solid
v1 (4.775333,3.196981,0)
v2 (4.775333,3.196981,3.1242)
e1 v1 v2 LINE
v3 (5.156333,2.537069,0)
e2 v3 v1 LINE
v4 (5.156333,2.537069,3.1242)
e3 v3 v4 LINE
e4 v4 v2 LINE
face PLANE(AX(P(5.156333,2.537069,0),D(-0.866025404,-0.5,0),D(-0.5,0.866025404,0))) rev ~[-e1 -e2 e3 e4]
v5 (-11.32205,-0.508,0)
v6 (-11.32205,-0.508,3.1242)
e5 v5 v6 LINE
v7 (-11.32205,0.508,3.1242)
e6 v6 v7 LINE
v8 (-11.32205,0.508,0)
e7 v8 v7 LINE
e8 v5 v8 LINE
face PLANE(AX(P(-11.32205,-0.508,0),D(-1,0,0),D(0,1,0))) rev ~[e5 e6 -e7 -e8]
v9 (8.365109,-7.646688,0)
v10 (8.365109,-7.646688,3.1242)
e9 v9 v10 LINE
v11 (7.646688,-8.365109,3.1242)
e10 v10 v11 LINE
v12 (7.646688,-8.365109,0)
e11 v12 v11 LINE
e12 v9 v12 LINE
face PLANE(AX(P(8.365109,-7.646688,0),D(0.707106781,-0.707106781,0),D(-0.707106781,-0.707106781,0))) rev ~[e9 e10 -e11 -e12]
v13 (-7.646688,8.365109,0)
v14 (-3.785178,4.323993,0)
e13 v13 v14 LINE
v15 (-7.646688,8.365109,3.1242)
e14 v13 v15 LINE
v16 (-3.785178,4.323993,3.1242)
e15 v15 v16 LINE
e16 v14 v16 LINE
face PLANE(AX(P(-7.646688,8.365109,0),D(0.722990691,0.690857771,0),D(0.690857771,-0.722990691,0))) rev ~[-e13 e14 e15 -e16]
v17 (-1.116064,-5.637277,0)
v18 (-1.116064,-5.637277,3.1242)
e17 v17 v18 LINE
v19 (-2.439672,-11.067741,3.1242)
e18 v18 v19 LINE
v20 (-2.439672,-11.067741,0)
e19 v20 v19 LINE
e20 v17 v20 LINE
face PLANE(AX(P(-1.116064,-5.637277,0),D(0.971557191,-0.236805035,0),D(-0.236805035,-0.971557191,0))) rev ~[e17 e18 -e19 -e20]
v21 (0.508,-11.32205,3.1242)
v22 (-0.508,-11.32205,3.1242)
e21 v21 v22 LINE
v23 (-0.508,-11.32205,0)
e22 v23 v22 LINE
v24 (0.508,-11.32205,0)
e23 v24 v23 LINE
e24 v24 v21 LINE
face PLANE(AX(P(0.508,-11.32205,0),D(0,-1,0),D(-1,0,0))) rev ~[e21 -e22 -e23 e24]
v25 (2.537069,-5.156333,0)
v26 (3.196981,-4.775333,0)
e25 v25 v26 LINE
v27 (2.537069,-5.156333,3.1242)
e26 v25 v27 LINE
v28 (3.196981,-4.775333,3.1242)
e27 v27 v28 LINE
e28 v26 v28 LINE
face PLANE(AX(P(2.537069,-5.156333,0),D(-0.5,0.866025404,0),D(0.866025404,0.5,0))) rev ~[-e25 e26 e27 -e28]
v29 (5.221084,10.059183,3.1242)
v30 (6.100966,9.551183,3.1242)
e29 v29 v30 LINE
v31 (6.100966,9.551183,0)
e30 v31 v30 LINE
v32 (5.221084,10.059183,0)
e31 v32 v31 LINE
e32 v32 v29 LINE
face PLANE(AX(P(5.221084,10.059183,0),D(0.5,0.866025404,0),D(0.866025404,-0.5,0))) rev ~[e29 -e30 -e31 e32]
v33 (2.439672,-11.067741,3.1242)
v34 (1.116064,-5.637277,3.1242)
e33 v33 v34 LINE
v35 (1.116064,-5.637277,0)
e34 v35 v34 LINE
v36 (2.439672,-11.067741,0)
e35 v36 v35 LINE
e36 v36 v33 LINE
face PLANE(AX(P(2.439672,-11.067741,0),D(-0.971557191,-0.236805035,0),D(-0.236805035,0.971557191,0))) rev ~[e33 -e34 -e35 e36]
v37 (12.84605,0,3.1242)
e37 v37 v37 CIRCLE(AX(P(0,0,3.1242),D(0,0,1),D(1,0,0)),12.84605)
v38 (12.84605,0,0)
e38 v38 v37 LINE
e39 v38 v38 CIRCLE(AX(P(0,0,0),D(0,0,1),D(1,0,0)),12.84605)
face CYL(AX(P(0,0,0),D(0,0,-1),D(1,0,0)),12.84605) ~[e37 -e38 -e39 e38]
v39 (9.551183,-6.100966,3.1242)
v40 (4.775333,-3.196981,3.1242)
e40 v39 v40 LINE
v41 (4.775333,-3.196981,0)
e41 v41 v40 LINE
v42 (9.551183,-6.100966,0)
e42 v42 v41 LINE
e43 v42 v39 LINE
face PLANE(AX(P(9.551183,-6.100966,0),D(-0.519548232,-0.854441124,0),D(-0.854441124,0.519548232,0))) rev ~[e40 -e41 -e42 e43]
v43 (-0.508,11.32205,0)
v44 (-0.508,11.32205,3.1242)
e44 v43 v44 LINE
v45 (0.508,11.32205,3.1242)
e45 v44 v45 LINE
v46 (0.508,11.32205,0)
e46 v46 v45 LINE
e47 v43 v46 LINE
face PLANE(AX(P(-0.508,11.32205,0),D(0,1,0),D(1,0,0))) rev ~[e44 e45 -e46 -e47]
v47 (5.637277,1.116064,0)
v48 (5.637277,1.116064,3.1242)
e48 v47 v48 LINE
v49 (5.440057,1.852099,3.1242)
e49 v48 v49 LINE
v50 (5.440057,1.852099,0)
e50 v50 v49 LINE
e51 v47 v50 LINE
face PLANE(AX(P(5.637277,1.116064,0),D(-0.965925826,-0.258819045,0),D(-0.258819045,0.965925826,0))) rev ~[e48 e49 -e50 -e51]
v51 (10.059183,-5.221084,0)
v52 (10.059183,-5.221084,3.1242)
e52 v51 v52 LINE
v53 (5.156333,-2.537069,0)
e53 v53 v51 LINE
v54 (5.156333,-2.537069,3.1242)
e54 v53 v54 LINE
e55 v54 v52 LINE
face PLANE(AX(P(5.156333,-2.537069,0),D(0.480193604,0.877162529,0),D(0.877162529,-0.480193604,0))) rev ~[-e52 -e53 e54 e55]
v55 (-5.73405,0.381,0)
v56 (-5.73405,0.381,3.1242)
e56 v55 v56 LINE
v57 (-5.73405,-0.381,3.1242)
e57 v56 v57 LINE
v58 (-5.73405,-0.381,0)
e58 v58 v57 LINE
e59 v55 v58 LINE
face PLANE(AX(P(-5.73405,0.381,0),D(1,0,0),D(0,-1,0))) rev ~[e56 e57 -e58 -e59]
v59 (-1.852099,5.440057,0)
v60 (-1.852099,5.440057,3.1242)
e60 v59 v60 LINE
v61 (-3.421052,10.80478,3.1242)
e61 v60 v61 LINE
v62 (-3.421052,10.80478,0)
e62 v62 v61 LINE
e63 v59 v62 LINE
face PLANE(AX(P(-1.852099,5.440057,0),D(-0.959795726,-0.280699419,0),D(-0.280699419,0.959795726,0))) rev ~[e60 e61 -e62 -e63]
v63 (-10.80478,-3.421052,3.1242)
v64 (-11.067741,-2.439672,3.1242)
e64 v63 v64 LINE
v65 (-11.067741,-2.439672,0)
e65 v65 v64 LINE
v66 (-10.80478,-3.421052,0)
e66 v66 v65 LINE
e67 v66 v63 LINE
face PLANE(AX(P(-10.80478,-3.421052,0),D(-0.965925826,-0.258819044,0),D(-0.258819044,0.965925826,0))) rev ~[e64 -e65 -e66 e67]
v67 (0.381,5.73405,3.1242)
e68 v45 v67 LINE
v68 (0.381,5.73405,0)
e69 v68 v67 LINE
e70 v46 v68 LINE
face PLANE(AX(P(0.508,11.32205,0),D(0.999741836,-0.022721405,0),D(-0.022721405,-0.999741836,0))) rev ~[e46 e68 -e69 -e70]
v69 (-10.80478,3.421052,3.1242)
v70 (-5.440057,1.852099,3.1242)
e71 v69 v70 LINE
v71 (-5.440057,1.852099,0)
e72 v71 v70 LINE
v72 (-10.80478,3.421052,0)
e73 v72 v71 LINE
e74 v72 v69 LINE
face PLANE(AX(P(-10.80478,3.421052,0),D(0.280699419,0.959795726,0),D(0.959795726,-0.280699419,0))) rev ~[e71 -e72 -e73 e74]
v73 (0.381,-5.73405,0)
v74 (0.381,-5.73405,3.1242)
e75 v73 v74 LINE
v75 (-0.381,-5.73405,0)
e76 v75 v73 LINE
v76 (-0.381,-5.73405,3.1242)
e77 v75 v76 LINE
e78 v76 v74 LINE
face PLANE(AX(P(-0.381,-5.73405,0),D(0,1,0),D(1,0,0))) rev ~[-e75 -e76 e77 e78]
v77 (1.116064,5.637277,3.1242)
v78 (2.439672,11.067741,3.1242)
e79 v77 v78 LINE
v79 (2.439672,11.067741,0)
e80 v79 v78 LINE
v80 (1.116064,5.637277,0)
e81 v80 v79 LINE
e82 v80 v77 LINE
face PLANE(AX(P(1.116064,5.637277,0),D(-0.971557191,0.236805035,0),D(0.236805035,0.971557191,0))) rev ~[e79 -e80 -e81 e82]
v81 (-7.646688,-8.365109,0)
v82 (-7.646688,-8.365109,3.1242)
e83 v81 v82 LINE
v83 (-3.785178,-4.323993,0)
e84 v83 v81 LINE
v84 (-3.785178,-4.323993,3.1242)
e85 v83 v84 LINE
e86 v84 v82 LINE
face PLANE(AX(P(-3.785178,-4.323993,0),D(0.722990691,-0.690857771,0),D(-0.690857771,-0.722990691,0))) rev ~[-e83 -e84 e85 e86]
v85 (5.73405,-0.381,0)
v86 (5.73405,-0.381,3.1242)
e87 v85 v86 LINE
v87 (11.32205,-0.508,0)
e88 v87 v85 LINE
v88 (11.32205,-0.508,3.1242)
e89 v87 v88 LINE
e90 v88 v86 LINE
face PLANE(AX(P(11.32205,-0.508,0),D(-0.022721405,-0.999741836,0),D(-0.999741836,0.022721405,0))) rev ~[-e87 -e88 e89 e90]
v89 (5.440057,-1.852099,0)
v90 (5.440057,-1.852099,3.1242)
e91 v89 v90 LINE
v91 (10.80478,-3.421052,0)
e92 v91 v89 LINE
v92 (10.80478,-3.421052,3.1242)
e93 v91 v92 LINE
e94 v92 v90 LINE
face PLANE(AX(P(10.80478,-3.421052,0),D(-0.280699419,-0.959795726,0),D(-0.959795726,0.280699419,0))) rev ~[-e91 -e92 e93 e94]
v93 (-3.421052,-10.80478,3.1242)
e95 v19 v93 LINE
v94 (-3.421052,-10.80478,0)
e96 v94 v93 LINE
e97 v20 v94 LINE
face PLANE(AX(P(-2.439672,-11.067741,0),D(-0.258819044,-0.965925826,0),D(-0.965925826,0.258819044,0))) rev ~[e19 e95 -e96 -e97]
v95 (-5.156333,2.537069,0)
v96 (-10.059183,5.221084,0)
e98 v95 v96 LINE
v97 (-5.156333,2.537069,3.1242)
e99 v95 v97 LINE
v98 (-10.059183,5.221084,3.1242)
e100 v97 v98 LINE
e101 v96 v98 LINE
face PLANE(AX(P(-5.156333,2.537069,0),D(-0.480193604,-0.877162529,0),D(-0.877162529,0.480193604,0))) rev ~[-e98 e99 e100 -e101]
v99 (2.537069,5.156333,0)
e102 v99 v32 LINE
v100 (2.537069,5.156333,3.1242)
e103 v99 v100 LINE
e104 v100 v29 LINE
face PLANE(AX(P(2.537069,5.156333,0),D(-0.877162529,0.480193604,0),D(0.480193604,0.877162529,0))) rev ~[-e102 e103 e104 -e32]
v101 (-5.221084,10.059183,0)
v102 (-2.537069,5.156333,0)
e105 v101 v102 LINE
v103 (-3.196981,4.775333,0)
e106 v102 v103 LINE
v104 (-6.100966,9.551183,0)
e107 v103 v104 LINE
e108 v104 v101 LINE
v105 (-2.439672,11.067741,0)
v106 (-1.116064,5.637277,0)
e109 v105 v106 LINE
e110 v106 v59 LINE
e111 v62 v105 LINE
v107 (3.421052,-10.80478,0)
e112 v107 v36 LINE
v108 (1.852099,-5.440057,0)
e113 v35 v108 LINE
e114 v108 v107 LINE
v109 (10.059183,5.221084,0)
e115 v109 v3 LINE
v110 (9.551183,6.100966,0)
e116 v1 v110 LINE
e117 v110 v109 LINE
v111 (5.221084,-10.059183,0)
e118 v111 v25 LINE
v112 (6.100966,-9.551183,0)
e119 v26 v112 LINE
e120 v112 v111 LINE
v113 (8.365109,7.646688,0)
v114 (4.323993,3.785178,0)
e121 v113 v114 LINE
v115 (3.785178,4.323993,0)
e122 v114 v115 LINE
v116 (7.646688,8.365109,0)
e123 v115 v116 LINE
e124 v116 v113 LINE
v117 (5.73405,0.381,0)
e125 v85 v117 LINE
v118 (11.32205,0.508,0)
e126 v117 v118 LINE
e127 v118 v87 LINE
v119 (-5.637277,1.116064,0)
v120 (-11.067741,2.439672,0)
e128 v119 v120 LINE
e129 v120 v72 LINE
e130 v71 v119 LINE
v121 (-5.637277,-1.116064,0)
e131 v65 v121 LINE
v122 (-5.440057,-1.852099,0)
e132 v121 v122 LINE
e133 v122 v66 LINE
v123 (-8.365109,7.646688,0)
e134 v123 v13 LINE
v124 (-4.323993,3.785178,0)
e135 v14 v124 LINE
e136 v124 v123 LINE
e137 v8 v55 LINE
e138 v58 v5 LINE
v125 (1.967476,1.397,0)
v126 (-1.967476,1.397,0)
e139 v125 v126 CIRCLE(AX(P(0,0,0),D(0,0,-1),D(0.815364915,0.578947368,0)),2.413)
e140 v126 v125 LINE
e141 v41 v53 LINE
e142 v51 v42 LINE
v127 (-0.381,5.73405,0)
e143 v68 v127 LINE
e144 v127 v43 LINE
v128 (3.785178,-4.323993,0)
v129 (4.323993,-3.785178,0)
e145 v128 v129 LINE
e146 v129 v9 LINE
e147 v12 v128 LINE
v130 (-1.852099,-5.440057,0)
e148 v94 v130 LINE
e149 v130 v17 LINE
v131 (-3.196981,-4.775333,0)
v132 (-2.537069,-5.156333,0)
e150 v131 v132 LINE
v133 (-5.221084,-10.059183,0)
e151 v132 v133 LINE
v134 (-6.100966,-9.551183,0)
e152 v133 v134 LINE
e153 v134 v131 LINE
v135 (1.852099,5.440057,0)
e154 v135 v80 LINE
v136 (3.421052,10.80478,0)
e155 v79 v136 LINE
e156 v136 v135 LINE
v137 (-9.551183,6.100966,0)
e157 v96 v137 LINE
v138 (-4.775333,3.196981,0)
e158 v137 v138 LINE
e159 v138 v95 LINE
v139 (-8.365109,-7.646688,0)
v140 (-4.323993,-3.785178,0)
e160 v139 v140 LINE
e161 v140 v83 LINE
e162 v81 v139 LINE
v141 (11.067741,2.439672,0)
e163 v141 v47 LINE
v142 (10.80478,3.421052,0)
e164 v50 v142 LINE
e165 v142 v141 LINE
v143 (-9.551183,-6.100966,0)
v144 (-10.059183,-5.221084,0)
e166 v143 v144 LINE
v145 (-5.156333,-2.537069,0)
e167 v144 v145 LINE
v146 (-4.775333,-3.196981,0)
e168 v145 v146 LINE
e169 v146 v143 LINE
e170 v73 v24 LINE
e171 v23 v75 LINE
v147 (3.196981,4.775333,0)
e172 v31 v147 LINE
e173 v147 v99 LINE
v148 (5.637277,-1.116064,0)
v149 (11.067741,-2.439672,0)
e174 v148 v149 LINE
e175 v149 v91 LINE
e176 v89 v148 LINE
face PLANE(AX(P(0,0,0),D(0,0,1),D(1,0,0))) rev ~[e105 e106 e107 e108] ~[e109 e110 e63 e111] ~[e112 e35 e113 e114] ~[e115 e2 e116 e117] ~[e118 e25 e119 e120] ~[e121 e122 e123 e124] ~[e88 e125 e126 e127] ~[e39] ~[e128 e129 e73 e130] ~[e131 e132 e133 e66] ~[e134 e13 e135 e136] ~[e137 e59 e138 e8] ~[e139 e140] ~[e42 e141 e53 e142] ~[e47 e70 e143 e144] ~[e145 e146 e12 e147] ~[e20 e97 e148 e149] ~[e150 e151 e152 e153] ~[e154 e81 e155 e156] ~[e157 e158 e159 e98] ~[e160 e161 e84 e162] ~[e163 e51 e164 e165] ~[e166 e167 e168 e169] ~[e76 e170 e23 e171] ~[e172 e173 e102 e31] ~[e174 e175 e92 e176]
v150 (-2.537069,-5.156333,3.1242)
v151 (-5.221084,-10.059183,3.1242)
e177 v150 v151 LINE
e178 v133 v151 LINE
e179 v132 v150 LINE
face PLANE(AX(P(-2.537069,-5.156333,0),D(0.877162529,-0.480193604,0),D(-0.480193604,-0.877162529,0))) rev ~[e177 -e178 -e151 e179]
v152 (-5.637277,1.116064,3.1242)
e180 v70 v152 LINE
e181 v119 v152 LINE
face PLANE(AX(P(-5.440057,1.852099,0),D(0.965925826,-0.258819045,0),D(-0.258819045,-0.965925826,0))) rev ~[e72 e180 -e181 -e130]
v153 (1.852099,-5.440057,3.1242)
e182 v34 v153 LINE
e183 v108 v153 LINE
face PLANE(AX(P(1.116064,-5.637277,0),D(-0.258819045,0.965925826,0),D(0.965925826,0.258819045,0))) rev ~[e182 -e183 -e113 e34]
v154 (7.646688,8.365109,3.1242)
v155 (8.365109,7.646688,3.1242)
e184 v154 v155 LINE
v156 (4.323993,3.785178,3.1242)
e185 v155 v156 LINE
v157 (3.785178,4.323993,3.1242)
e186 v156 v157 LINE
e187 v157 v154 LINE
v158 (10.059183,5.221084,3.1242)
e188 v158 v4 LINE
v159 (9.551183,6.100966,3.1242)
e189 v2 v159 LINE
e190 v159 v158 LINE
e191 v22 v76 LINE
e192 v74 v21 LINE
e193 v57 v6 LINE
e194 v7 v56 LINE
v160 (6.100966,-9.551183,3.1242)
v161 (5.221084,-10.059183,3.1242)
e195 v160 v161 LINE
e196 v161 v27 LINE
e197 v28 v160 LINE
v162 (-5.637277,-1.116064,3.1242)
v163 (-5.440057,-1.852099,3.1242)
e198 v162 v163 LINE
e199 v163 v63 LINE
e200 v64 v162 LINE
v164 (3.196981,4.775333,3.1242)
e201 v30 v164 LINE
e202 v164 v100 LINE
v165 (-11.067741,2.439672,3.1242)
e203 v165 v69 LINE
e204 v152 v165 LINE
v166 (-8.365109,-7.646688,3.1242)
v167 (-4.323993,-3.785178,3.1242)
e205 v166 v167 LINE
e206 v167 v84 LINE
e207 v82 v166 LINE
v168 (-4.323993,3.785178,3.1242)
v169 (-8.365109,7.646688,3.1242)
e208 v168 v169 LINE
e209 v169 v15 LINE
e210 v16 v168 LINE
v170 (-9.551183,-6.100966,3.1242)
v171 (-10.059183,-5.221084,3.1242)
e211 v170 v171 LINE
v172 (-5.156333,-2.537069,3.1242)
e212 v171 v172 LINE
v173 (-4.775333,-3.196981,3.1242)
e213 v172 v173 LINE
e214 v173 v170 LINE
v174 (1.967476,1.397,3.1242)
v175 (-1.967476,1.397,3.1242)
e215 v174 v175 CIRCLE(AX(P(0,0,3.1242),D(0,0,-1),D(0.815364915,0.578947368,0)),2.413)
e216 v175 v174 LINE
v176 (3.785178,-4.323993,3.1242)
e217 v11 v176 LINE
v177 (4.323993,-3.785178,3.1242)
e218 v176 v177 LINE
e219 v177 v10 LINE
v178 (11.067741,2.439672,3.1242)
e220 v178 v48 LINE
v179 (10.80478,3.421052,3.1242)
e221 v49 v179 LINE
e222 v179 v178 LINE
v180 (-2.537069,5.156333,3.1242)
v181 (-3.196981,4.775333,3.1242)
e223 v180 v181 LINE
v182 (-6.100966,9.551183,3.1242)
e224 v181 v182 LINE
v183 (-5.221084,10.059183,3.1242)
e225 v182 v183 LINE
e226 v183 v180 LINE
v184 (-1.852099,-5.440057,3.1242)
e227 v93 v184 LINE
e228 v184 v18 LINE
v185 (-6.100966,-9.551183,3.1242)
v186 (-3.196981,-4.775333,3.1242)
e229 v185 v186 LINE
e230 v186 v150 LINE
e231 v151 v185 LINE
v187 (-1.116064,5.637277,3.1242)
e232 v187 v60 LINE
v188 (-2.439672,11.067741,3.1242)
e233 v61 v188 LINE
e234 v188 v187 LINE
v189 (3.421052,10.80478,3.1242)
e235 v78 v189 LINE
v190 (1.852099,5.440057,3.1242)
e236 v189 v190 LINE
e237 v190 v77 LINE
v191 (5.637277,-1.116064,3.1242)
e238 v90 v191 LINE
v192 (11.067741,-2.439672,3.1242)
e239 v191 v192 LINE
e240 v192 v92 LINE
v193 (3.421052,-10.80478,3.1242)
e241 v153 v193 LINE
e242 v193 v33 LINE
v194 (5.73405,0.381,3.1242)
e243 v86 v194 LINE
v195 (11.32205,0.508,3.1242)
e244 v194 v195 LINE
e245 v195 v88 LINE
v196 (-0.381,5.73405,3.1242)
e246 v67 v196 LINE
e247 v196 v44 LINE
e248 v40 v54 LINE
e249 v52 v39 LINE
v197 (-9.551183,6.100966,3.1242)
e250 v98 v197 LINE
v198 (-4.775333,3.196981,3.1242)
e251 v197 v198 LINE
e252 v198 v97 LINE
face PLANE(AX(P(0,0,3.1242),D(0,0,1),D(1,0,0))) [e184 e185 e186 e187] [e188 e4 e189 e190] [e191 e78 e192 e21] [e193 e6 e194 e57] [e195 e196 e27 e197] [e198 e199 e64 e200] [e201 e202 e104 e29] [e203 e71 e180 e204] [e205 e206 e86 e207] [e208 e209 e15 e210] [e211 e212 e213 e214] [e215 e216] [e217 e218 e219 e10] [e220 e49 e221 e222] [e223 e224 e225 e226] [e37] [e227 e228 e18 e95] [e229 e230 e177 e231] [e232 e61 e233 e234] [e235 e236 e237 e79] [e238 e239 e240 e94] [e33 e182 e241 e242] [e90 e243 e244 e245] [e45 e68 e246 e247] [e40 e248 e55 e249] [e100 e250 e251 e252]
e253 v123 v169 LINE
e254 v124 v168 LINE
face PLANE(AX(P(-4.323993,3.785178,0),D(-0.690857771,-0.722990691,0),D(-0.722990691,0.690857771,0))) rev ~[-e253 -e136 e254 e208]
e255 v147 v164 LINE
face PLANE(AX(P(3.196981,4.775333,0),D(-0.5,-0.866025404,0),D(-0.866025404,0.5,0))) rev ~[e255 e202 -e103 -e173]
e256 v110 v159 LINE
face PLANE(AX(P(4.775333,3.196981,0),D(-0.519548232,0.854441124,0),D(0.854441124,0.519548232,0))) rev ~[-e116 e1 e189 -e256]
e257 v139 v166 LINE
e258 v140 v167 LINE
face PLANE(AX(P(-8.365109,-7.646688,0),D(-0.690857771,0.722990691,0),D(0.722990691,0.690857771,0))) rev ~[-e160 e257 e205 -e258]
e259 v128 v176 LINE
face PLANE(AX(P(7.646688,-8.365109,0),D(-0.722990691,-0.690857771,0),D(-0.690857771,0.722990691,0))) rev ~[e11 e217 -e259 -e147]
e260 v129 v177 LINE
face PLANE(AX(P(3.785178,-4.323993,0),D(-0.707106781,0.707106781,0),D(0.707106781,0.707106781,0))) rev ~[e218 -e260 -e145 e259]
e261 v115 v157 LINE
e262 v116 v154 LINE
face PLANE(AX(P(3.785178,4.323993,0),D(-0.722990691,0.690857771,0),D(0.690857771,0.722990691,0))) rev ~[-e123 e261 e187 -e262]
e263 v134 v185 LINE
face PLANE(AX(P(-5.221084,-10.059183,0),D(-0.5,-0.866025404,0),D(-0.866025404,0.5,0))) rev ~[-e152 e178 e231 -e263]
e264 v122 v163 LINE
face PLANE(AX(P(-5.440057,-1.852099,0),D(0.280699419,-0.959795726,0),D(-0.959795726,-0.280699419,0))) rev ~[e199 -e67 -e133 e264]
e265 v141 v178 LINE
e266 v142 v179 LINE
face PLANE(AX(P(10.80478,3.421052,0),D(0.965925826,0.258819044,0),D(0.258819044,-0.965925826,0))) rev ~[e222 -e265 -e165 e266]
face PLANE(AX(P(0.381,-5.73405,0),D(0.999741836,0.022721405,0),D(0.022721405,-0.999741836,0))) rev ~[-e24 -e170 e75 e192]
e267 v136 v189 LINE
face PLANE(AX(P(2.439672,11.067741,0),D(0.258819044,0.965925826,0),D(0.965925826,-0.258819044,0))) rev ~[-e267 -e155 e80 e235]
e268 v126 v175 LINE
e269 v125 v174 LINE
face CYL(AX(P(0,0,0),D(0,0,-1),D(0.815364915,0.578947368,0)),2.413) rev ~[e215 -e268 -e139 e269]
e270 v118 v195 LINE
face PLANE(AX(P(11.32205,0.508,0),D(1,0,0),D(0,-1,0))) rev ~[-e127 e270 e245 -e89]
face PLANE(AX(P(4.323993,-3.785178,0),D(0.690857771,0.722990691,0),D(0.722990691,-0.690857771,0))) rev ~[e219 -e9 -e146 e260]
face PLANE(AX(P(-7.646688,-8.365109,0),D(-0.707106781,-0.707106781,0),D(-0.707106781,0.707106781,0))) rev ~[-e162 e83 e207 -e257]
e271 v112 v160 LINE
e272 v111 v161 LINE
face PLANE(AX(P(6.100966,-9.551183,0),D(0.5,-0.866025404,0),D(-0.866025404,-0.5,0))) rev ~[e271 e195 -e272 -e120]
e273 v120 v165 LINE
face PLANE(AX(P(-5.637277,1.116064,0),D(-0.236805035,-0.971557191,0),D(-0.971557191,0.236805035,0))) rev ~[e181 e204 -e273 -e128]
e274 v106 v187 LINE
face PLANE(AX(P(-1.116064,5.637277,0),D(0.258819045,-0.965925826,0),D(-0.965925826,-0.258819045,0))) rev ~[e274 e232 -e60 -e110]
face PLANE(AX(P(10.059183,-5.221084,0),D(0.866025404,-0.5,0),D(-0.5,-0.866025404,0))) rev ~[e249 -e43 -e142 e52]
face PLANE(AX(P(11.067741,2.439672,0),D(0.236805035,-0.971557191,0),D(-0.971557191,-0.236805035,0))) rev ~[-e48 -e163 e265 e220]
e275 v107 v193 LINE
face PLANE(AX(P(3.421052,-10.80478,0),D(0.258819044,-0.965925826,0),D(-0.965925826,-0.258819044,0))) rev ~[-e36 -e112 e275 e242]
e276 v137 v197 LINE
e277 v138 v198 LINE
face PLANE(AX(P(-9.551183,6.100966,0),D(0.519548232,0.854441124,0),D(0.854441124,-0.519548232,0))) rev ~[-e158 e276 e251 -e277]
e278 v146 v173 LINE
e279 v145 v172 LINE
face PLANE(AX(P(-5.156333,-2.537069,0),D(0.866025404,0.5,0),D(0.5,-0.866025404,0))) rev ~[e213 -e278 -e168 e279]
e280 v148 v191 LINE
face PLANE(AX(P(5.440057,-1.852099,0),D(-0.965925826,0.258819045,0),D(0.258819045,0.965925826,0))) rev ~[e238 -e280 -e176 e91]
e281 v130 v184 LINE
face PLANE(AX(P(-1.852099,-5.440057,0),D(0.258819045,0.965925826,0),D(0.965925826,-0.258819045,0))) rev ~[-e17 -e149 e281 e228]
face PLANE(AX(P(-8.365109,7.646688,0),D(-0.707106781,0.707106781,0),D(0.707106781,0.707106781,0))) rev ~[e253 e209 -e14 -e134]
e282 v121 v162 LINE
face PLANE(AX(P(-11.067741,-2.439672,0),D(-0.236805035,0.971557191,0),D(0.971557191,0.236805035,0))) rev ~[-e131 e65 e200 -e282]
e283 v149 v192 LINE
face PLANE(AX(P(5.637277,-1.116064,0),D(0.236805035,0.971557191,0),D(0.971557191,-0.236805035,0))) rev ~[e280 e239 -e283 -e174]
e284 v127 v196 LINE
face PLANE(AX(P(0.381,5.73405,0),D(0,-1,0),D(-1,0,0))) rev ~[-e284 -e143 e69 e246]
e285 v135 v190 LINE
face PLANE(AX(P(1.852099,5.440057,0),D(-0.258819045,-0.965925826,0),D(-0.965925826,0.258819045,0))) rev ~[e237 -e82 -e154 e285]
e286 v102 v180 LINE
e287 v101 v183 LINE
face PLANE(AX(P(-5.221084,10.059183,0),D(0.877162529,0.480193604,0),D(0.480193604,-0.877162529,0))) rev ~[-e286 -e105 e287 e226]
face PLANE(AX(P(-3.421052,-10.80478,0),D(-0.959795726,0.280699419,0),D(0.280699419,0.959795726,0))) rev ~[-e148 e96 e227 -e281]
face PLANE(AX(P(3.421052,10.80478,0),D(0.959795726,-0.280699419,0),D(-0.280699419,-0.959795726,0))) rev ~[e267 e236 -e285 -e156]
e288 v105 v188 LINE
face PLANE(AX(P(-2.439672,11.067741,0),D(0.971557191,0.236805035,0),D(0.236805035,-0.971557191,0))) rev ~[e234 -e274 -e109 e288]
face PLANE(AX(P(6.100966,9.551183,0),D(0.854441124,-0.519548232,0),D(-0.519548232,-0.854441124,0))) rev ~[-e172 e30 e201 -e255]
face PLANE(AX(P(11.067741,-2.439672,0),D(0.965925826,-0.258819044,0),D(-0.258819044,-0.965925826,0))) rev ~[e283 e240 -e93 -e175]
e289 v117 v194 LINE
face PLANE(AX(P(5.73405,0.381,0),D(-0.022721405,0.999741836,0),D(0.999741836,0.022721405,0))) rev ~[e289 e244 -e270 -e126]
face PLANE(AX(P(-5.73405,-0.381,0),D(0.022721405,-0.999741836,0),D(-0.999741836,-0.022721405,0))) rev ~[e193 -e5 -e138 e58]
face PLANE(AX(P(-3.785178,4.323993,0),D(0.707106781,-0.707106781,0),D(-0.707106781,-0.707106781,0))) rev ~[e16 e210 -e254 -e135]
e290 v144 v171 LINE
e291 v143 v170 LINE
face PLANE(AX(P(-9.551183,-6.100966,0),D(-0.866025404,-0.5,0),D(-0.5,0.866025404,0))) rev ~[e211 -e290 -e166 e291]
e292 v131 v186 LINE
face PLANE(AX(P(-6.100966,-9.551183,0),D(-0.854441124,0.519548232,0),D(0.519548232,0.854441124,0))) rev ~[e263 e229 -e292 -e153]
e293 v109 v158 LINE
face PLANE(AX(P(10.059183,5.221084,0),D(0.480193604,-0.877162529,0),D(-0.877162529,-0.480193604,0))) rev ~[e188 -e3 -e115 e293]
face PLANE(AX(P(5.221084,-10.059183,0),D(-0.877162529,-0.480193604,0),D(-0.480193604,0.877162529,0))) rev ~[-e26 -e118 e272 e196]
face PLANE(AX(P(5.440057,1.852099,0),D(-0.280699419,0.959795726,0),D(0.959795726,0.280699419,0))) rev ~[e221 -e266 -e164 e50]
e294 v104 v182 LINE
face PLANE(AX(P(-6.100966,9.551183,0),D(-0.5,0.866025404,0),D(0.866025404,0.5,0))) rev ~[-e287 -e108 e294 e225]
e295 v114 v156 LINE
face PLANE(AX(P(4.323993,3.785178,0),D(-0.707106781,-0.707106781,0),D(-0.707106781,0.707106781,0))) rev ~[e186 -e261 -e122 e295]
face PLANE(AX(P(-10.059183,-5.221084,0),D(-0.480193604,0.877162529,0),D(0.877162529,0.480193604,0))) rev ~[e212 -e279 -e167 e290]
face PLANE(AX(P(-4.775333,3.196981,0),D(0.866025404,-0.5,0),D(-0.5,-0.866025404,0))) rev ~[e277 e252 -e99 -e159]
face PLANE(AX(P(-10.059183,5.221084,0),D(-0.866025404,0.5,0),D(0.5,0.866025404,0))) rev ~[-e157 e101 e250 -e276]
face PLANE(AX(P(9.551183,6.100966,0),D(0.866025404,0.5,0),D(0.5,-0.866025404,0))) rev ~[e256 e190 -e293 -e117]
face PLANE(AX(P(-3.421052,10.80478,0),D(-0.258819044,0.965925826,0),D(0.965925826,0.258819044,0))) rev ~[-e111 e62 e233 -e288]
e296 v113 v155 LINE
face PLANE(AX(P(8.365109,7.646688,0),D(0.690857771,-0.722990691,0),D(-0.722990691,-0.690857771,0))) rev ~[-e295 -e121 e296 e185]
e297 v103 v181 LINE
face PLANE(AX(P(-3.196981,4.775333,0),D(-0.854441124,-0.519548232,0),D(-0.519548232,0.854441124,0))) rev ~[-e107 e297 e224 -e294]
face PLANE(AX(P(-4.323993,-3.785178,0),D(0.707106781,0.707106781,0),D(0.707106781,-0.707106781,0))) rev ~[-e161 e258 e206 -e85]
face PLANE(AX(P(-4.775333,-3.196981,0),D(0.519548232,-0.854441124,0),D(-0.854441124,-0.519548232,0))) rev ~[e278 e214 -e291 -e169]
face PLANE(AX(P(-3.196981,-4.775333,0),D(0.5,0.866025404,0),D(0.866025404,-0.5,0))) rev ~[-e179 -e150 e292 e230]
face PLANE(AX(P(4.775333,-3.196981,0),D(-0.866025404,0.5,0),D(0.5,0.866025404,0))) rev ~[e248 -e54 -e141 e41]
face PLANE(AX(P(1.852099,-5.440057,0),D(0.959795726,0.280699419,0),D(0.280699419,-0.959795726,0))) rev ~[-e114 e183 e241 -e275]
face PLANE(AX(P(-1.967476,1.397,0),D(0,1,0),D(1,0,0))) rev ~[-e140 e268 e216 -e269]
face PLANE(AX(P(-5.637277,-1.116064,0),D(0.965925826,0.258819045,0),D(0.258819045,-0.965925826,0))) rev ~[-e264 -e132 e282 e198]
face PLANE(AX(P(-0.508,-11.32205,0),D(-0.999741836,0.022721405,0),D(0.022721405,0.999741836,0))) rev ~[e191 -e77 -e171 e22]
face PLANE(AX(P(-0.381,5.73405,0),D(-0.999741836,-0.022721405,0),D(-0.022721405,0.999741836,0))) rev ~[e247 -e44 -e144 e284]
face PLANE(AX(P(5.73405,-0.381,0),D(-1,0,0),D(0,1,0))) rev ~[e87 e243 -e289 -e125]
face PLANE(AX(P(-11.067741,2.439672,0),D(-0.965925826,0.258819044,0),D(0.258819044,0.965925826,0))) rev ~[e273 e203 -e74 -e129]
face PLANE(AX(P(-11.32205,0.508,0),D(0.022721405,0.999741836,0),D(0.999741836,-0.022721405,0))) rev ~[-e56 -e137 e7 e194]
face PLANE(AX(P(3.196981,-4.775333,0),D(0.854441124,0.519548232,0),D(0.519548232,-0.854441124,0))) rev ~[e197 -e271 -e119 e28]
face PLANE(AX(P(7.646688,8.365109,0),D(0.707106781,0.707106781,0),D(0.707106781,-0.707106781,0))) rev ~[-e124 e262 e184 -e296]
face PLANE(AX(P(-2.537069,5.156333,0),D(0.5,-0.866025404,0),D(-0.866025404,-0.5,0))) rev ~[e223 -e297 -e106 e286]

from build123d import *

# Parameters (mm, degrees)
CROQUIS1_R              = 12.84605
SALIENTE_EXTRUIR2_DEPTH = 3.1242


with BuildPart() as part:
    # Croquis1 → Saliente-Extruir2 (new body)
    with BuildSketch(Plane.XY):
        Circle(CROQUIS1_R)
        Polygon((0.508, 11.32205), (0.381, 5.73405), (-0.381, 5.73405), (-0.508, 11.32205), align=None, mode=Mode.SUBTRACT)
        Polygon((-7.646688087, -8.365108577), (-8.365108577, -7.646688087), (-4.323993322, -3.785177955), (-3.785177955, -4.323993322), align=None, mode=Mode.SUBTRACT)
        Polygon((-5.221084095, -10.059182923), (-6.100965905, -9.551182923), (-3.196980679, -4.775332967), (-2.537069321, -5.156332967), align=None, mode=Mode.SUBTRACT)
        Polygon((-2.43967185, -11.067740576), (-3.421052489, -10.804780427), (-1.852099085, -5.440056928), (-1.116063606, -5.63727704), align=None, mode=Mode.SUBTRACT)
        Polygon((-9.551182923, -6.100965905), (-10.059182923, -5.221084095), (-5.156332967, -2.537069321), (-4.775332967, -3.196980679), align=None, mode=Mode.SUBTRACT)
        Polygon((-11.32205, -0.508), (-11.32205, 0.508), (-5.73405, 0.381), (-5.73405, -0.381), align=None, mode=Mode.SUBTRACT)
        Polygon((-10.804780427, -3.421052489), (-11.067740576, -2.43967185), (-5.63727704, -1.116063606), (-5.440056928, -1.852099085), align=None, mode=Mode.SUBTRACT)
        Polygon((0.508, -11.32205), (-0.508, -11.32205), (-0.381, -5.73405), (0.381, -5.73405), align=None, mode=Mode.SUBTRACT)
        Polygon((3.421052489, -10.804780427), (2.43967185, -11.067740576), (1.116063606, -5.63727704), (1.852099085, -5.440056928), align=None, mode=Mode.SUBTRACT)
        Polygon((6.100965905, -9.551182923), (5.221084095, -10.059182923), (2.537069321, -5.156332967), (3.196980679, -4.775332967), align=None, mode=Mode.SUBTRACT)
        Polygon((8.365108577, -7.646688087), (7.646688087, -8.365108577), (3.785177955, -4.323993322), (4.323993322, -3.785177955), align=None, mode=Mode.SUBTRACT)
        Polygon((10.059182923, -5.221084095), (9.551182923, -6.100965905), (4.775332967, -3.196980679), (5.156332967, -2.537069321), align=None, mode=Mode.SUBTRACT)
        Polygon((11.067740576, -2.43967185), (10.804780427, -3.421052489), (5.440056928, -1.852099085), (5.63727704, -1.116063606), align=None, mode=Mode.SUBTRACT)
        Polygon((-11.067740576, 2.43967185), (-10.804780427, 3.421052489), (-5.440056928, 1.852099085), (-5.63727704, 1.116063606), align=None, mode=Mode.SUBTRACT)
        Polygon((-10.059182923, 5.221084095), (-9.551182923, 6.100965905), (-4.775332967, 3.196980679), (-5.156332967, 2.537069321), align=None, mode=Mode.SUBTRACT)
        with BuildLine():
            Line((-1.96747554, 1.397), (1.96747554, 1.397))
            ThreePointArc((1.96747554, 1.397), (0, -2.413), (-1.96747554, 1.397))
        make_face(mode=Mode.SUBTRACT)
        Polygon((-8.365108577, 7.646688087), (-7.646688087, 8.365108577), (-3.785177955, 4.323993322), (-4.323993322, 3.785177955), align=None, mode=Mode.SUBTRACT)
        Polygon((-6.100965905, 9.551182923), (-5.221084095, 10.059182923), (-2.537069321, 5.156332967), (-3.196980679, 4.775332967), align=None, mode=Mode.SUBTRACT)
        Polygon((-3.421052489, 10.804780427), (-2.43967185, 11.067740576), (-1.116063606, 5.63727704), (-1.852099085, 5.440056928), align=None, mode=Mode.SUBTRACT)
        Polygon((10.804780427, 3.421052489), (11.067740576, 2.43967185), (5.63727704, 1.116063606), (5.440056928, 1.852099085), align=None, mode=Mode.SUBTRACT)
        Polygon((11.32205, 0.508), (11.32205, -0.508), (5.73405, -0.381), (5.73405, 0.381), align=None, mode=Mode.SUBTRACT)
        Polygon((9.551182923, 6.100965905), (10.059182923, 5.221084095), (5.156332967, 2.537069321), (4.775332967, 3.196980679), align=None, mode=Mode.SUBTRACT)
        Polygon((2.43967185, 11.067740576), (3.421052489, 10.804780427), (1.852099085, 5.440056928), (1.116063606, 5.63727704), align=None, mode=Mode.SUBTRACT)
        Polygon((5.221084095, 10.059182923), (6.100965905, 9.551182923), (3.196980679, 4.775332967), (2.537069321, 5.156332967), align=None, mode=Mode.SUBTRACT)
        Polygon((7.646688087, 8.365108577), (8.365108577, 7.646688087), (4.323993322, 3.785177955), (3.785177955, 4.323993322), align=None, mode=Mode.SUBTRACT)
    extrude(amount=SALIENTE_EXTRUIR2_DEPTH)


solid = part.part
